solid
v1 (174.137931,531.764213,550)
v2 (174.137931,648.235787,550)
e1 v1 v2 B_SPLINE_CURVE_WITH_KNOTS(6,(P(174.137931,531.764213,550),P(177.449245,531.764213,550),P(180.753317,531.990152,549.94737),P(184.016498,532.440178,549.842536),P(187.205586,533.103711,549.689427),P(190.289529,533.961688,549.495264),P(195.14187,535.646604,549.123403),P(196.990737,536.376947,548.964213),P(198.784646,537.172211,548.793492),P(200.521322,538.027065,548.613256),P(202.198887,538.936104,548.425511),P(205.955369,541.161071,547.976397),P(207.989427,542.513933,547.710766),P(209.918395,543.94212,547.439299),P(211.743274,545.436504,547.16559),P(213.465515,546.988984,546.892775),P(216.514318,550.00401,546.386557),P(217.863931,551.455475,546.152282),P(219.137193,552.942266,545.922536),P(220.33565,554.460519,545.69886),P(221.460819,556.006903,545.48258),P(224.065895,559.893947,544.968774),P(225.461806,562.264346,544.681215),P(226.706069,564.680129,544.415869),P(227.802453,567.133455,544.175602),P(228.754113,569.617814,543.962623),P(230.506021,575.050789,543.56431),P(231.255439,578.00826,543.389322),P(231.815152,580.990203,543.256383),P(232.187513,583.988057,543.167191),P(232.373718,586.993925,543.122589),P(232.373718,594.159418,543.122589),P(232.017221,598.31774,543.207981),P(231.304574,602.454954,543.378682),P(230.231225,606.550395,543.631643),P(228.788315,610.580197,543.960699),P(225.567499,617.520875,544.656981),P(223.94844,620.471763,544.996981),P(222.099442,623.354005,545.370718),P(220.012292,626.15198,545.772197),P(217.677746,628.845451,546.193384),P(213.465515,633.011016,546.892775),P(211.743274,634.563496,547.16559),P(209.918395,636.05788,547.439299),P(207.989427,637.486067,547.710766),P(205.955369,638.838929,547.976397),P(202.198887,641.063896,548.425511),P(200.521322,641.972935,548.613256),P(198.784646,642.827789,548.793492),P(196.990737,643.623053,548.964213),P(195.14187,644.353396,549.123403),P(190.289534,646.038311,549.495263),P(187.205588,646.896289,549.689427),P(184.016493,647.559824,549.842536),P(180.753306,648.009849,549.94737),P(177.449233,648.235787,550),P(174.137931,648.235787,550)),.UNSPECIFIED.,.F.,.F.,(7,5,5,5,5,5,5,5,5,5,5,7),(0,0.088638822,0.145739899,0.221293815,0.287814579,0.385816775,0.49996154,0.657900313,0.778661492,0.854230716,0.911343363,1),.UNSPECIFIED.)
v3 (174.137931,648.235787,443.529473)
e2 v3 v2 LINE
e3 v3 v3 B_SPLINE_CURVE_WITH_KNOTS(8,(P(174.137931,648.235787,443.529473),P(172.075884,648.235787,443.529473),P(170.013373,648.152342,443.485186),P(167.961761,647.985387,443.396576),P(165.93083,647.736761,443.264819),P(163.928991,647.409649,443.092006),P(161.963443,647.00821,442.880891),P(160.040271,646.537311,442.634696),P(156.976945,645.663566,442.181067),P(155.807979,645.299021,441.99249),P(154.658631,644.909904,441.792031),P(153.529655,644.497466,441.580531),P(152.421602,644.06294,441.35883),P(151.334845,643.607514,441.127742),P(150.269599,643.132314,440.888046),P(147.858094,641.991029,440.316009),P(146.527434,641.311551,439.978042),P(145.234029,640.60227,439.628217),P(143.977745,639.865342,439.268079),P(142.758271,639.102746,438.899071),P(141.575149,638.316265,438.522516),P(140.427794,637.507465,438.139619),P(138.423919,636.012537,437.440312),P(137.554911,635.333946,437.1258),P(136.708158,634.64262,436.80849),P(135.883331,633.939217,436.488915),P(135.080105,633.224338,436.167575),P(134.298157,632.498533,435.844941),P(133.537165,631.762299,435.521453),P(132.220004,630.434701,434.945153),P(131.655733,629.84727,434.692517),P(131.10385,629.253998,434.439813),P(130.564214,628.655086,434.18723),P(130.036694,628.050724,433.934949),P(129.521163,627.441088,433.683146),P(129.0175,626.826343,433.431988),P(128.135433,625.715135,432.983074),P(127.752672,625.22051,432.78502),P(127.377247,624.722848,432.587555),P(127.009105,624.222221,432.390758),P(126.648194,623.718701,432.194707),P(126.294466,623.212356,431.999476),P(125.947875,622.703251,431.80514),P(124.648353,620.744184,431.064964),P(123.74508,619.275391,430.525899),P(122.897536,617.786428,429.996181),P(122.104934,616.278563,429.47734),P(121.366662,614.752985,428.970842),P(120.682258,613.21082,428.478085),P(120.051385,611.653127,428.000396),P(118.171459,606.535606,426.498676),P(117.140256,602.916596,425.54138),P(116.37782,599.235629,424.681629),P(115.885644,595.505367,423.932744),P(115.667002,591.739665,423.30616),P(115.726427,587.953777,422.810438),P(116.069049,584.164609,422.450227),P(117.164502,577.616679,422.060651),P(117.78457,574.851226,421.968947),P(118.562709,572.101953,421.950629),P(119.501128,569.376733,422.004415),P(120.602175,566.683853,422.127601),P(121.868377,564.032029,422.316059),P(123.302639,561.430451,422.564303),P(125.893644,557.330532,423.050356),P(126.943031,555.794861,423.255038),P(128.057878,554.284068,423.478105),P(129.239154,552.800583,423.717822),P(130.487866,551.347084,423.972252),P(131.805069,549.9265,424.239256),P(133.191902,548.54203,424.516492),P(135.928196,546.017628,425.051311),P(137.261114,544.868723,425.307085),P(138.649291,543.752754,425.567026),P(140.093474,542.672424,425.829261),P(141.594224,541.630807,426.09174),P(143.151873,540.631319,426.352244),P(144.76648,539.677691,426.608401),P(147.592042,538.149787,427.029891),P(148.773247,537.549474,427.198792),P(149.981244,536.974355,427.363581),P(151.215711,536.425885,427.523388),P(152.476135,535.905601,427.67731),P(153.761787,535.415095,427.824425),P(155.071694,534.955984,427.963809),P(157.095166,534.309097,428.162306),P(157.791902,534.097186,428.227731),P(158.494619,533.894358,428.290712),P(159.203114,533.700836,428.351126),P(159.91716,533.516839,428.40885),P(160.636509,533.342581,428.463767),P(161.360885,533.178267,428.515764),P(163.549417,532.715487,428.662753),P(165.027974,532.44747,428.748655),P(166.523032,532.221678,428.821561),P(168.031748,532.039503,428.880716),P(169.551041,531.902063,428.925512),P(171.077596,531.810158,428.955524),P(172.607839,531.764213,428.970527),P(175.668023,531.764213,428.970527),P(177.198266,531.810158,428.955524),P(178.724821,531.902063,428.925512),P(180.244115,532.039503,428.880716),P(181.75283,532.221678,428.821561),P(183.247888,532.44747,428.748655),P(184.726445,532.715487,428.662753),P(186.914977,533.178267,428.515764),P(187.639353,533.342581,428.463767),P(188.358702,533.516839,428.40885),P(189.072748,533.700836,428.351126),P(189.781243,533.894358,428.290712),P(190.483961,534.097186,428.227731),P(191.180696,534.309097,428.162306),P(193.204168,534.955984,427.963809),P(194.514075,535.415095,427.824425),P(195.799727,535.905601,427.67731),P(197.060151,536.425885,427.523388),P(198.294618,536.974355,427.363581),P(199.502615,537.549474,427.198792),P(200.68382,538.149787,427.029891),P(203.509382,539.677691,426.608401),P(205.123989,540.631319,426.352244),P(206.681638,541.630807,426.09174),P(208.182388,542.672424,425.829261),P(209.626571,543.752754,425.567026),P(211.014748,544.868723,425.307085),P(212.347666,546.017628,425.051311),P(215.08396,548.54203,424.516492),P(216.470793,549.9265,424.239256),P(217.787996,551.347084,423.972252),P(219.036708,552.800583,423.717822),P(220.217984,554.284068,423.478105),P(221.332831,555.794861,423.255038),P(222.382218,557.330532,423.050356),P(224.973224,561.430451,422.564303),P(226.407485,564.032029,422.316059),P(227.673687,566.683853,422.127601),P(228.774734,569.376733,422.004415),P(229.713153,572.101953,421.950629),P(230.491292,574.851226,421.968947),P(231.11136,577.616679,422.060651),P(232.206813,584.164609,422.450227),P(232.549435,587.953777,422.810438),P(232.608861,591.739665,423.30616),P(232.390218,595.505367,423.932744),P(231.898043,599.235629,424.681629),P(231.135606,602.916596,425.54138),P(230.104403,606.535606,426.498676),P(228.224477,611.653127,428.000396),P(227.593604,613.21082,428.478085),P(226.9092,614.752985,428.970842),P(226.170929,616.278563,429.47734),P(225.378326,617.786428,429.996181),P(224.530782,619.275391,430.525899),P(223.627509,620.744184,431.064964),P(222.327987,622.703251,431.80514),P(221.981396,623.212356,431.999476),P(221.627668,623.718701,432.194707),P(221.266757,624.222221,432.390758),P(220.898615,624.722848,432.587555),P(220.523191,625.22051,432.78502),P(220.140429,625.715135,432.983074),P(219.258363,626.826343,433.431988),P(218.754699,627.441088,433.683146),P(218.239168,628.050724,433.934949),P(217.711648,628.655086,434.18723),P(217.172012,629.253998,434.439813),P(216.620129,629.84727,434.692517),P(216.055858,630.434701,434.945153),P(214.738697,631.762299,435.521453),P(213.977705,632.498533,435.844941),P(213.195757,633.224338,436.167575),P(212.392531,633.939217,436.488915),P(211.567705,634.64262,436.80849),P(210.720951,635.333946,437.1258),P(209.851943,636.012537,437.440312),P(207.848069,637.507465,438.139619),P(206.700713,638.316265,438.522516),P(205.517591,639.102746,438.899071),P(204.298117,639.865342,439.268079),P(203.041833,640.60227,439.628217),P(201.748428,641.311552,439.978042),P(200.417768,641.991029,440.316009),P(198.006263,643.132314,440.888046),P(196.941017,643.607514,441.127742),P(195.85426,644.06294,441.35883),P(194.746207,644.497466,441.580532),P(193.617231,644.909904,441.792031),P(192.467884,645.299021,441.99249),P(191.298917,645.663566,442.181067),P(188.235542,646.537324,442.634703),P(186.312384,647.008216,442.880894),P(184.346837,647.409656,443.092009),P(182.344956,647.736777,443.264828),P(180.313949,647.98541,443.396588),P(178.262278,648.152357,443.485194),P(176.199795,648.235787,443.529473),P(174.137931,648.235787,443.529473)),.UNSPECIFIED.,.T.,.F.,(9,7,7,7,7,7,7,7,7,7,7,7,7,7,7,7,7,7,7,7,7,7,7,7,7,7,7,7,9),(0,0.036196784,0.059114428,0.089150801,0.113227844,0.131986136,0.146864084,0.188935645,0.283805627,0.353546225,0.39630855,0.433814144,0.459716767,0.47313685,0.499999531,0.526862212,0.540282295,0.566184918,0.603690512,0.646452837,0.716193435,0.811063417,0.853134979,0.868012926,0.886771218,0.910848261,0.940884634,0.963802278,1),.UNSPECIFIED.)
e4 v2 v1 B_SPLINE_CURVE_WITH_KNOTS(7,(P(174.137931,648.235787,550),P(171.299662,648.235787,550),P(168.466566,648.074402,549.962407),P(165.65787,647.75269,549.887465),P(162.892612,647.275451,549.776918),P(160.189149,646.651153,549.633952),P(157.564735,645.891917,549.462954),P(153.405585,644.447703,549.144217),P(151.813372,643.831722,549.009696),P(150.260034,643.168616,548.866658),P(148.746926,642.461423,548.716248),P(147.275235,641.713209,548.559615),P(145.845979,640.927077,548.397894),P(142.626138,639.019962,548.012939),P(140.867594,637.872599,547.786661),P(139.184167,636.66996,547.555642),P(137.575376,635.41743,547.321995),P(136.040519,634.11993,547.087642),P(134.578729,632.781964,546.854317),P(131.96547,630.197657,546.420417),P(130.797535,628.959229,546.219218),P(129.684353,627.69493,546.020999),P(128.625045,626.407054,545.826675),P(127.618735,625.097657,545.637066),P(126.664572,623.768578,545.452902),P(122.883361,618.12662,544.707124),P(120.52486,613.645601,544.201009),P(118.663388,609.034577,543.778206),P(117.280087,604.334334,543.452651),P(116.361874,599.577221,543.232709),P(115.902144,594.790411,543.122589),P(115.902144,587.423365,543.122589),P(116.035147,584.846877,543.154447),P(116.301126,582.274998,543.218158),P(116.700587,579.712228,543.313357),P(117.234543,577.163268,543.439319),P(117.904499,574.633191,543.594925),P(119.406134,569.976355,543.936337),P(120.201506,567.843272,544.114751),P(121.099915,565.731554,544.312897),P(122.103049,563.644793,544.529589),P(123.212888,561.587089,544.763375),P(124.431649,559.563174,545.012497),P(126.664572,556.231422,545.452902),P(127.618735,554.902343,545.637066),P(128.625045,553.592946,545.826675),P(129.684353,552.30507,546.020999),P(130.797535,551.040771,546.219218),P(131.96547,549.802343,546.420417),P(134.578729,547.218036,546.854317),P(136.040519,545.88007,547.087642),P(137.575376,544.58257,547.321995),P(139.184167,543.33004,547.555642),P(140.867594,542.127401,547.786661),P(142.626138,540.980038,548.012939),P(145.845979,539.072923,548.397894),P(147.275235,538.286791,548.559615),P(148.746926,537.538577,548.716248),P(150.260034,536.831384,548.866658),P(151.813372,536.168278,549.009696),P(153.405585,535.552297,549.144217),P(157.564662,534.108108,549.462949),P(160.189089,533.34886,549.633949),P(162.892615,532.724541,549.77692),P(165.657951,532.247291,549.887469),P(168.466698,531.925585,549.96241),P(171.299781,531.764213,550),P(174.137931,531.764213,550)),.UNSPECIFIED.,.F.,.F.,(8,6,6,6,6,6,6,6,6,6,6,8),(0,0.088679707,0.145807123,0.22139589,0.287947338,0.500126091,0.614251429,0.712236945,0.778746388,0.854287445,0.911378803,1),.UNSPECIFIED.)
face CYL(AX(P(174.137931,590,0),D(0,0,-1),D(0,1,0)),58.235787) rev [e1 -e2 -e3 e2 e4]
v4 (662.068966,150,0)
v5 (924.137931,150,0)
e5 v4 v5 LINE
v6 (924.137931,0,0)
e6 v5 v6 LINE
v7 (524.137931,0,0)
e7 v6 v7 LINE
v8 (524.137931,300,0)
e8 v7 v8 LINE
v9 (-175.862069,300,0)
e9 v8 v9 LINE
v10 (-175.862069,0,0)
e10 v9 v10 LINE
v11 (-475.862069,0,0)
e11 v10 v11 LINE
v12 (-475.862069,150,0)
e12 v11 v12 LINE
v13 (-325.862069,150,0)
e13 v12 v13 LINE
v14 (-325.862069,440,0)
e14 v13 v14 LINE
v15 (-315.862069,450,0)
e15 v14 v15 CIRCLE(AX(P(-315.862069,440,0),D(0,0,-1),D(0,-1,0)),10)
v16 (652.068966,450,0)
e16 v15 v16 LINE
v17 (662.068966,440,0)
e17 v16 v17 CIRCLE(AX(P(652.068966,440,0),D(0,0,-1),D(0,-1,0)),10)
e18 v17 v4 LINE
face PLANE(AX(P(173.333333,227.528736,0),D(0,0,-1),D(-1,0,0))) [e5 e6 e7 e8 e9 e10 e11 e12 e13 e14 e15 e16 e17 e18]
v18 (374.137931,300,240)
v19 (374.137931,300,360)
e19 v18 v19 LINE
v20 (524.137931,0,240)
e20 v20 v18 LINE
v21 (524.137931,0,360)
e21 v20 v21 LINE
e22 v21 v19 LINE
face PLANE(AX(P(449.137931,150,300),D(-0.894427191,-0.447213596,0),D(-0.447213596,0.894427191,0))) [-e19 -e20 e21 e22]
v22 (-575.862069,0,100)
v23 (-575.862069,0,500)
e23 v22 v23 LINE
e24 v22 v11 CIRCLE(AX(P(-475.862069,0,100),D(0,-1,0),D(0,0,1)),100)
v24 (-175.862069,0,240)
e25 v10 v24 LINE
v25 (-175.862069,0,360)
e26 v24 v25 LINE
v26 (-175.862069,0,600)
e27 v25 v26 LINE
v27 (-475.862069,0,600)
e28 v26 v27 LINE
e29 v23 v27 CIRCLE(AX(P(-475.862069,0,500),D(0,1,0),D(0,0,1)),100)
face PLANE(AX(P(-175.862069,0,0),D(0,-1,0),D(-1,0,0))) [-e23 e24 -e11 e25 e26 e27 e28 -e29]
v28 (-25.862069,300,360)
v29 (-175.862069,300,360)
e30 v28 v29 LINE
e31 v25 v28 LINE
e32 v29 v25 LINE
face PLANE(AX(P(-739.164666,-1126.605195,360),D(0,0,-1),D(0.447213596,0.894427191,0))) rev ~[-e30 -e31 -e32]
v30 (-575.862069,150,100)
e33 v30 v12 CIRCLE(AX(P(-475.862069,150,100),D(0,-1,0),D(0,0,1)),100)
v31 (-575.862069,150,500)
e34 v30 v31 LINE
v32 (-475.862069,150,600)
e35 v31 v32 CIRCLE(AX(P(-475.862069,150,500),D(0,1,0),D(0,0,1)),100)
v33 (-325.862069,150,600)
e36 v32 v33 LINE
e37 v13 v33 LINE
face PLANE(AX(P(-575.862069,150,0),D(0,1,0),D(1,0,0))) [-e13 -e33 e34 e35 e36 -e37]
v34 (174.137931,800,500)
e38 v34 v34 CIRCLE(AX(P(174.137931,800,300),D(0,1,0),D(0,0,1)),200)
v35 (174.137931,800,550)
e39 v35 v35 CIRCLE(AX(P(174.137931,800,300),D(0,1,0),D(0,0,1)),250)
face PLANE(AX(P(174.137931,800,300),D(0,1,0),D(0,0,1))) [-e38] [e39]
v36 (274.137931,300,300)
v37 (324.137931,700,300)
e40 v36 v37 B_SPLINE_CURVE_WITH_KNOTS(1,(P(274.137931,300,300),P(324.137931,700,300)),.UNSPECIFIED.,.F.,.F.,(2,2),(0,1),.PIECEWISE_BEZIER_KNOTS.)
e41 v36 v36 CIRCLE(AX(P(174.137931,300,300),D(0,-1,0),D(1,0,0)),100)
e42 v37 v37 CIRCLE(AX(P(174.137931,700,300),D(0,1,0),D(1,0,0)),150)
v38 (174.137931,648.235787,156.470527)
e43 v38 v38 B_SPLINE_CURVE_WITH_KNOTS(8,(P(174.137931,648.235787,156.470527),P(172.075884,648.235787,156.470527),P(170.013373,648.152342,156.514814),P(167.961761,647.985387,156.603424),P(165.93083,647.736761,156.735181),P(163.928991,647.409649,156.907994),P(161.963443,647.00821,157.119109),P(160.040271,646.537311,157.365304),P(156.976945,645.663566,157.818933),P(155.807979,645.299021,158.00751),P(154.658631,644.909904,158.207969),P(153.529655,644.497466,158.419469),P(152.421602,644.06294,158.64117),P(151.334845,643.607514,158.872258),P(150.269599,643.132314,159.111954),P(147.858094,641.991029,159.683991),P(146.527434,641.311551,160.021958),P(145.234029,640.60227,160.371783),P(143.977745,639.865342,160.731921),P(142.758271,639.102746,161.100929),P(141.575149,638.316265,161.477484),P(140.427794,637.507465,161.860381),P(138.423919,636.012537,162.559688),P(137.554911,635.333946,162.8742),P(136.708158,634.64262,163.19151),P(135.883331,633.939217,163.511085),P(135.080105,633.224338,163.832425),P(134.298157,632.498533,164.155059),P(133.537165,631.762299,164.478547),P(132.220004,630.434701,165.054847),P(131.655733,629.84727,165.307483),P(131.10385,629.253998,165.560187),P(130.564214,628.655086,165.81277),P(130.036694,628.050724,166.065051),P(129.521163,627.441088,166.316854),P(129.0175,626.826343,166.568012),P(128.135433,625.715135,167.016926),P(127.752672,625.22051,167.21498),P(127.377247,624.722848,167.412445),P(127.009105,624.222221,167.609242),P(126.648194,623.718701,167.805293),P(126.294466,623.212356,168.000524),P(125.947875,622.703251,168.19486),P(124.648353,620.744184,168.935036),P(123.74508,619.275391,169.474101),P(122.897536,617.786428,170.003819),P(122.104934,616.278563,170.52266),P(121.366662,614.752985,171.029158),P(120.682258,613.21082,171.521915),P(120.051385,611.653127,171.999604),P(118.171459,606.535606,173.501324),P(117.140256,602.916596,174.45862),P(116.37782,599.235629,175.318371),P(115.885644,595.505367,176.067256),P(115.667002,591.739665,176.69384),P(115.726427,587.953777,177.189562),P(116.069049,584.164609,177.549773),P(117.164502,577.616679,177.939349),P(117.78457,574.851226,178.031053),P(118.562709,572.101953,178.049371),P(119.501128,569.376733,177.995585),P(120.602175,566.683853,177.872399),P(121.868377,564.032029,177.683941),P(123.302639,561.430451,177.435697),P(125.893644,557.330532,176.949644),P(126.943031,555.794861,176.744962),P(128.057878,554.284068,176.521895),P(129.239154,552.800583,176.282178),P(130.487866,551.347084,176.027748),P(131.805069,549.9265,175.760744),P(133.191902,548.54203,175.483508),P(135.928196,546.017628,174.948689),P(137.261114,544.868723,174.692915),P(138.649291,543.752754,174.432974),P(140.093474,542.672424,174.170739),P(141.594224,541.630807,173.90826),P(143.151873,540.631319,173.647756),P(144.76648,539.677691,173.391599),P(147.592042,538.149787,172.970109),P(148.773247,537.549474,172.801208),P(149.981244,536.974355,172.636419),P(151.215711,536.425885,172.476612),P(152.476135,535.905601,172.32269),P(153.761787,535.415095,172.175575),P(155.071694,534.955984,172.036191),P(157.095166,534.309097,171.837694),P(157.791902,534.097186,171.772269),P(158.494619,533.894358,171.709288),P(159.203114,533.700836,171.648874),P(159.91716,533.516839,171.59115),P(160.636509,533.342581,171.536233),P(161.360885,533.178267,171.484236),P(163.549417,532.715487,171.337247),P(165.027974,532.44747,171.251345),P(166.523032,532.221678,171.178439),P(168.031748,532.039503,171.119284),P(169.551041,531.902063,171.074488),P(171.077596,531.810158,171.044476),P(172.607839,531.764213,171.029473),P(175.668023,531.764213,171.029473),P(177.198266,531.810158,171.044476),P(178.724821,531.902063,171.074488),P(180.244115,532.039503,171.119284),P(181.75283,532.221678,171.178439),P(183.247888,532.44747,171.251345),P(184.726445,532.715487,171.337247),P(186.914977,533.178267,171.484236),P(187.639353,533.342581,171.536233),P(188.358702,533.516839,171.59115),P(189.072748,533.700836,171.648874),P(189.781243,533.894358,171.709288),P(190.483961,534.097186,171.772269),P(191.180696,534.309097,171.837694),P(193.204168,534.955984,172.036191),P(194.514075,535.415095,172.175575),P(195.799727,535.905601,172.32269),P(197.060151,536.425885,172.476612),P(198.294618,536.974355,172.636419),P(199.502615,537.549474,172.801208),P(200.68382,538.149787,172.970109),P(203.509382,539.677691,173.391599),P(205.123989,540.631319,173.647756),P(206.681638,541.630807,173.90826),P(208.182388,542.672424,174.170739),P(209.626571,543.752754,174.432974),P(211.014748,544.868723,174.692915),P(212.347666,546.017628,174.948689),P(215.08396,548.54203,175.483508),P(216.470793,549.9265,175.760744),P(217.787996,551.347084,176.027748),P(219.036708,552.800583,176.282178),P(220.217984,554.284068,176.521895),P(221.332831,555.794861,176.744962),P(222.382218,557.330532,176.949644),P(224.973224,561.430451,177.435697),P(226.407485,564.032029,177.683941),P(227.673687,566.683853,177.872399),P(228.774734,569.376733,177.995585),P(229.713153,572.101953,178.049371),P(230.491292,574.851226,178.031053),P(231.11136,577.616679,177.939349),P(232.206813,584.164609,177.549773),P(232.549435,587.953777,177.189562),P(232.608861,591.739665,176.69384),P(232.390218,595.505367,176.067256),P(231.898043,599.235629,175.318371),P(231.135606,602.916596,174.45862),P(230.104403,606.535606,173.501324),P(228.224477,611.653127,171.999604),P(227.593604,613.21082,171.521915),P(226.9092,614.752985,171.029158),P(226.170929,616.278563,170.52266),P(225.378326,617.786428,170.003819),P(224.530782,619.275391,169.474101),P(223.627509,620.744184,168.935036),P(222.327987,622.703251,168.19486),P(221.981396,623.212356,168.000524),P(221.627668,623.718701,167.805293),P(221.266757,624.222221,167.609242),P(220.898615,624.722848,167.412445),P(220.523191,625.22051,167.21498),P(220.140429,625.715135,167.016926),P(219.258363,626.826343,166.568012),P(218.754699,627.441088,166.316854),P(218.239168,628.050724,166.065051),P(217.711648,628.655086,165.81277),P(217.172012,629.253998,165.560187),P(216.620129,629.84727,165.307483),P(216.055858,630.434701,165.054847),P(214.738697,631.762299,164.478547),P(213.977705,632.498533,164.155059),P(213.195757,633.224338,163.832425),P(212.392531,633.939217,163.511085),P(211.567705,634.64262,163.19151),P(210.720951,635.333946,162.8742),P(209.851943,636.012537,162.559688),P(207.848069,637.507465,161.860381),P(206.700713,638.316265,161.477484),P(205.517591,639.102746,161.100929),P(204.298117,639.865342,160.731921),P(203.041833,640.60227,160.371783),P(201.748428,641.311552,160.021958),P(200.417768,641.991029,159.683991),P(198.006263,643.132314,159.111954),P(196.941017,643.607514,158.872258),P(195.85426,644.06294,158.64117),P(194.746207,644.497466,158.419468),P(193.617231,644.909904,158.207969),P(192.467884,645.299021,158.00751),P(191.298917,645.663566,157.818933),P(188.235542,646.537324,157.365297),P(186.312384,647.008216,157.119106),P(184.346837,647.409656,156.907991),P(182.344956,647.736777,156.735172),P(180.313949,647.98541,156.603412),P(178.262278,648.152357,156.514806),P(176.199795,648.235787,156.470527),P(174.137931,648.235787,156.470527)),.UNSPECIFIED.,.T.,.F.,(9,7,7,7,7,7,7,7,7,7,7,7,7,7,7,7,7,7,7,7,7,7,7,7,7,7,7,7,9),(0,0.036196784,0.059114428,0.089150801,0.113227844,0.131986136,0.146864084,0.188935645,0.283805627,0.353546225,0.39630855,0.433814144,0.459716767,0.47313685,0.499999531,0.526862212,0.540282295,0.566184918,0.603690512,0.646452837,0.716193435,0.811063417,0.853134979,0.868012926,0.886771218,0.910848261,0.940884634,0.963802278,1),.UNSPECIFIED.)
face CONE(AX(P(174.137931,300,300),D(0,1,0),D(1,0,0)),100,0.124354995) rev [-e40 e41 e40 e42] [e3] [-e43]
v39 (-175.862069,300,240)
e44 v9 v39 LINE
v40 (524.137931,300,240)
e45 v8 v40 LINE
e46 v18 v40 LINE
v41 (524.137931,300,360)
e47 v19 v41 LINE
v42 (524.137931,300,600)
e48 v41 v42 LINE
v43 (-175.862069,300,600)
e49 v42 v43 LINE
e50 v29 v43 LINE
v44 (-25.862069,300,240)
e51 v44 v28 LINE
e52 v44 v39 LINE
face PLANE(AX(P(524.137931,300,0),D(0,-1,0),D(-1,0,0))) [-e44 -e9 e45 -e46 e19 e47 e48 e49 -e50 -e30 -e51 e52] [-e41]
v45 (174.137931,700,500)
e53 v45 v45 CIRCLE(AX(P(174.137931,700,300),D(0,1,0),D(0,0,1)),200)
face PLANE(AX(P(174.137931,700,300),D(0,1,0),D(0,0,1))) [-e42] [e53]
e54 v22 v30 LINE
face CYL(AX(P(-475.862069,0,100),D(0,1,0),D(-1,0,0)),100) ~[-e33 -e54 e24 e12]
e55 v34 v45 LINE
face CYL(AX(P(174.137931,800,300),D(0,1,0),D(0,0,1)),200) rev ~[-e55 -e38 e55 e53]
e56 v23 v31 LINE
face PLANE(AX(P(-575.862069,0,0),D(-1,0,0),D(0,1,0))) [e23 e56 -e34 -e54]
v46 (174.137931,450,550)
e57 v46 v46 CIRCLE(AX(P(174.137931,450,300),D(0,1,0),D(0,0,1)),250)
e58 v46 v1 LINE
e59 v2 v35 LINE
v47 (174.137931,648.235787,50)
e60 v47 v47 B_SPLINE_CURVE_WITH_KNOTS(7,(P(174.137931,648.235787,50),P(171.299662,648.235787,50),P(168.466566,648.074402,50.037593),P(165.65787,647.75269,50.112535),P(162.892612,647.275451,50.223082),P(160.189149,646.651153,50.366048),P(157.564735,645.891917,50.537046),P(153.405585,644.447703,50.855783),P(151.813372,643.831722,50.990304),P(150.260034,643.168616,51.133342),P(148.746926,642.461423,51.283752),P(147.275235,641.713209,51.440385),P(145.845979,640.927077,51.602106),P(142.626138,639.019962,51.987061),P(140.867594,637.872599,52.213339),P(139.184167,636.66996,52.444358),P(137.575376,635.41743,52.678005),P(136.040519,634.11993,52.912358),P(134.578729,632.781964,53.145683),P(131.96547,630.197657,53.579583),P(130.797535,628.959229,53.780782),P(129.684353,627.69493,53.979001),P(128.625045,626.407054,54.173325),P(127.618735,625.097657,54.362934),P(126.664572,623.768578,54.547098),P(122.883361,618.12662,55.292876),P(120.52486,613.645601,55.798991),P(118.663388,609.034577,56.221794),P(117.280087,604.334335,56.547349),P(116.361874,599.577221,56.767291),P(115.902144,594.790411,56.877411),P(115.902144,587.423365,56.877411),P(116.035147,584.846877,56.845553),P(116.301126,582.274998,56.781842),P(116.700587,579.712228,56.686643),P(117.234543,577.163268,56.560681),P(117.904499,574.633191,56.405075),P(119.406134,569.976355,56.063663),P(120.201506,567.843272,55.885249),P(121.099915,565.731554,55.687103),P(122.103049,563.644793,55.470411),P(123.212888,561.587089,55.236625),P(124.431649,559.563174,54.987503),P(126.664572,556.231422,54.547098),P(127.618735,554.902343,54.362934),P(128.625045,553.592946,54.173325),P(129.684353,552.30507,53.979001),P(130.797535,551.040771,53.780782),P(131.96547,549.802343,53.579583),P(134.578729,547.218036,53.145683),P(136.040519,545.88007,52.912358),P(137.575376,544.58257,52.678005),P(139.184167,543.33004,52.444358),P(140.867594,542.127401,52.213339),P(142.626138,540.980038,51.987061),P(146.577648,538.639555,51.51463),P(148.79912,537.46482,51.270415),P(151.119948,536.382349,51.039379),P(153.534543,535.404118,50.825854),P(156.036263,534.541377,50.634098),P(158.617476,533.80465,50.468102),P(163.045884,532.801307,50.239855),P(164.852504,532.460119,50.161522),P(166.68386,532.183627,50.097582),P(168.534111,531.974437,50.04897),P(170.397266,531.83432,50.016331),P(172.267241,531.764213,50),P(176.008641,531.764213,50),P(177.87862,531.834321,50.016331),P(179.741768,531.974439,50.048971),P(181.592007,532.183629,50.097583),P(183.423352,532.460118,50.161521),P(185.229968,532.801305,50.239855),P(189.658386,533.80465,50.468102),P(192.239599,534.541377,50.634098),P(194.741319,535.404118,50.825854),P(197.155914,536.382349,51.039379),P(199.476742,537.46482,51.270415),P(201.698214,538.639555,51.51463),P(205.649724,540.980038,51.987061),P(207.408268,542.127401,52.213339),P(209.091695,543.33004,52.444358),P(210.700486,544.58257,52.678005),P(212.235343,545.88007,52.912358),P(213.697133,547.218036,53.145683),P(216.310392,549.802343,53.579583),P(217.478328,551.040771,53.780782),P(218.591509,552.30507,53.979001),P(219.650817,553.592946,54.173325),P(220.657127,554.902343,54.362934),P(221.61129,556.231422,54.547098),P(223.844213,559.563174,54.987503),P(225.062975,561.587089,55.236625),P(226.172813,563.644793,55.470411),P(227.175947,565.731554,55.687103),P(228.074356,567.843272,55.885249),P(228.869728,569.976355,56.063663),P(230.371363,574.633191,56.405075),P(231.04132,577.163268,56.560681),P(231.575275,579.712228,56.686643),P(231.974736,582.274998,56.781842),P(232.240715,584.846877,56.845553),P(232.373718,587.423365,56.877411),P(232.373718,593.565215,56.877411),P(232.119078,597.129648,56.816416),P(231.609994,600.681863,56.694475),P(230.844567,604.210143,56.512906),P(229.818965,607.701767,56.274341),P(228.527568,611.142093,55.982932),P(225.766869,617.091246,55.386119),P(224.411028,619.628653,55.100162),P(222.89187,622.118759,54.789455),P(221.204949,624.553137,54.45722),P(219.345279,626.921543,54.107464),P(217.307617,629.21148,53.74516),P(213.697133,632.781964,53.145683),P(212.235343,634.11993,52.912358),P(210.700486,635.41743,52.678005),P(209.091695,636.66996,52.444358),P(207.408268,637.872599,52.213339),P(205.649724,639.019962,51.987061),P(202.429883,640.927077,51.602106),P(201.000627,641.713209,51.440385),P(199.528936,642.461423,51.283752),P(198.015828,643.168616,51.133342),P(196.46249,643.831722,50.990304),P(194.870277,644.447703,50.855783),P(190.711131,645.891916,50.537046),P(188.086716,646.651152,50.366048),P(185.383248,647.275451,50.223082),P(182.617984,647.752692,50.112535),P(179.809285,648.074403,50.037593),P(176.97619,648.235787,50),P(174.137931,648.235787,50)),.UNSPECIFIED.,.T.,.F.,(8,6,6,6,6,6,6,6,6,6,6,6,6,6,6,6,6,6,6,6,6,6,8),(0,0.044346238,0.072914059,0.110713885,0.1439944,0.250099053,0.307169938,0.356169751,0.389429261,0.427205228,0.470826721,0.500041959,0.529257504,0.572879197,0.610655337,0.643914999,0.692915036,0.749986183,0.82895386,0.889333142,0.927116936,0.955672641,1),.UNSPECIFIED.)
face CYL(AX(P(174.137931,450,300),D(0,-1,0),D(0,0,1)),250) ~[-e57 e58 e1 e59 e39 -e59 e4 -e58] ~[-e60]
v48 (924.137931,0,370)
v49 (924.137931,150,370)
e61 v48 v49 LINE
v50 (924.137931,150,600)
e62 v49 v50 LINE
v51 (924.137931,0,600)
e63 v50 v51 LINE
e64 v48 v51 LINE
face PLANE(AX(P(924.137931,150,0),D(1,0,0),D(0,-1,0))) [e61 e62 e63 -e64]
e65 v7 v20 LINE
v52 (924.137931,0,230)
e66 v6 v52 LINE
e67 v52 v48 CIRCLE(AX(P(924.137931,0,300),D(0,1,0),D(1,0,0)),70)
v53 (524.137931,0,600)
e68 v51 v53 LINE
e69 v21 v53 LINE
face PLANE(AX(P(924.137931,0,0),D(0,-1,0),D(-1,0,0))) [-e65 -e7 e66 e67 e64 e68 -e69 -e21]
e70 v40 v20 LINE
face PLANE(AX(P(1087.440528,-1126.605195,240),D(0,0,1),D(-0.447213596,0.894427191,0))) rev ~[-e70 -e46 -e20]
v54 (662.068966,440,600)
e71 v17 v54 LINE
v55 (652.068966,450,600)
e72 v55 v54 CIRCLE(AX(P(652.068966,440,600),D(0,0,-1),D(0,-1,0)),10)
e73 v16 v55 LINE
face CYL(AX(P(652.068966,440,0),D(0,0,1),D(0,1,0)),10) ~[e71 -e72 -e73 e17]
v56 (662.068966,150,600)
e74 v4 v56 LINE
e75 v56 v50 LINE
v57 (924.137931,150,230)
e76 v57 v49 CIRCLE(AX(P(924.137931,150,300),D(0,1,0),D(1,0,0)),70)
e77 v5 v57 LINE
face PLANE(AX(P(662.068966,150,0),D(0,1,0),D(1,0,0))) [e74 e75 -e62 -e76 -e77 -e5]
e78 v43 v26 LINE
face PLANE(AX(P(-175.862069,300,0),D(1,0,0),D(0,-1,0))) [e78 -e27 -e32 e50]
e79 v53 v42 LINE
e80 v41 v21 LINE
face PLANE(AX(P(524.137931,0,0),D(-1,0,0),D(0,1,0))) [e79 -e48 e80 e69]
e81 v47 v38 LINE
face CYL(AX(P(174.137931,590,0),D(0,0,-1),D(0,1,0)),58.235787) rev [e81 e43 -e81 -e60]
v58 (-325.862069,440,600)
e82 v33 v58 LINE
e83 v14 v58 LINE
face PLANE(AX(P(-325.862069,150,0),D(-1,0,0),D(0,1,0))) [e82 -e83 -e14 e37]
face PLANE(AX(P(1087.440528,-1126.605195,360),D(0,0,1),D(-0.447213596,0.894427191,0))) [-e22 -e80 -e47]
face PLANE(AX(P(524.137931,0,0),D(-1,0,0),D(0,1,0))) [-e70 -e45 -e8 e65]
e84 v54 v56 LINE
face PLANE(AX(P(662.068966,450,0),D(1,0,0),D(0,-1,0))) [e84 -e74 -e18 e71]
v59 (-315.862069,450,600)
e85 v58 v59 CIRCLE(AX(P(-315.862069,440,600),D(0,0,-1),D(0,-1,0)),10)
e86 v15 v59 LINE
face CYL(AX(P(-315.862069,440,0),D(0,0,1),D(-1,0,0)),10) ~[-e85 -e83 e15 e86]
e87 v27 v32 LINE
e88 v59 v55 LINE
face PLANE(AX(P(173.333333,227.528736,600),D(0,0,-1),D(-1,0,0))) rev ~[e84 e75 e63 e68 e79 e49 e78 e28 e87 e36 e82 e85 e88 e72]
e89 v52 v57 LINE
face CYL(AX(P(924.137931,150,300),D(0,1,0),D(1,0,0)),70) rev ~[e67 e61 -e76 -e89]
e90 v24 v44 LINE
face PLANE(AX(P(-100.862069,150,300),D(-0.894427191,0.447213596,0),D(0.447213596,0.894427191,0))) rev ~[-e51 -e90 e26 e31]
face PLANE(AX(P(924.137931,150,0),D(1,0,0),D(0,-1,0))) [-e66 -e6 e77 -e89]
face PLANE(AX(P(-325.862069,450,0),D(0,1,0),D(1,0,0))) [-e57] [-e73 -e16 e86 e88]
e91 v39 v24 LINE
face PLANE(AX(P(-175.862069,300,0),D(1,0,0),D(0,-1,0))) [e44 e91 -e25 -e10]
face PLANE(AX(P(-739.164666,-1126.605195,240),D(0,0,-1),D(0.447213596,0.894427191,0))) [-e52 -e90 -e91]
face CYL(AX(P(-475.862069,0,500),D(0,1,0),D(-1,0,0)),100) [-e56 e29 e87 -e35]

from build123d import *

# Parameters (mm, degrees)
BOSS_EXTRUDE1_DEPTH     = 600
SKETCH2_R               = 250
BOSS_EXTRUDE3_DEPTH     = 350
SKETCH6_R               = 200
CUT_EXTRUDE1_DEPTH      = 100
SKETCH8_R               = 100
SKETCH7_R               = 150
FILLET2_R               = 100
FILLET3_R               = 10
SKETCH11_R              = 58.235787107
CUT_EXTRUDE5_DEPTH      = 1362.628038628
CUT_EXTRUDE5_DEPTH_BACK = 1362.628038628
CUT_EXTRUDE6_REACH      = 1281.27
SKETCH12_R              = 70
RIB1_REACH              = 1260.583
SKETCH13_WALL_W         = 2854.575996278
SKETCH13_WALL_H         = 120
RIB2_REACH              = 1260.583
SKETCH14_WALL_W         = 2854.575996278
SKETCH14_WALL_H         = 120


with BuildPart() as part:
    # Sketch1 → Boss-Extrude1 (new body)
    with BuildSketch(Plane.XY):
        Polygon((-175.862068966, 0), (-575.862068966, 0), (-575.862068966, 150), (-325.862068966, 150), (-325.862068966, 450), (662.068965517, 450), (662.068965517, 150), (924.137931034, 150), (924.137931034, 0), (524.137931034, 0), (524.137931034, 300), (-175.862068966, 300), align=None)
    extrude(amount=BOSS_EXTRUDE1_DEPTH)

    # Sketch2 → Boss-Extrude3 (add)
    with BuildSketch(Plane(origin=(0, 450, 0), x_dir=(1, 0, 0), z_dir=(0, 1, 0))):
        with Locations(Location((174.137931034, -300, 0), (0, 0, 270))):
            Circle(SKETCH2_R)
    extrude(amount=BOSS_EXTRUDE3_DEPTH)

    # Sketch6 → Cut-Extrude1 (cut)
    with BuildSketch(Plane(origin=(0, 800, 0), x_dir=(1, 0, 0), z_dir=(0, 1, 0))):
        with Locations(Location((174.137931034, -300, 0), (0, 0, 270))):
            Circle(SKETCH6_R)
    extrude(amount=-CUT_EXTRUDE1_DEPTH, mode=Mode.SUBTRACT)

    # Sketch8 → Cut-Loft1 section 0
    with BuildSketch(Plane.XZ.offset(-300)):
        with Locations((174.137931034, 300)):
            Circle(SKETCH8_R)
    # Sketch7 → Cut-Loft1 section 1
    with BuildSketch(Plane(origin=(0, 700, 0), x_dir=(1, 0, 0), z_dir=(0, 1, 0))):
        with Locations((174.137931034, -300)):
            Circle(SKETCH7_R)
    loft(mode=Mode.SUBTRACT)

    # Fillet2
    fillet2_edges = [part.edges().sort_by_distance(p)[0] for p in [
        (-575.862068966, 75, 0),
        (-575.862068966, 75, 600),
    ]]
    fillet(fillet2_edges, radius=FILLET2_R)

    # Fillet3
    fillet3_edges = [part.edges().sort_by_distance(p)[0] for p in [
        (-325.862068966, 450, 300),
        (662.068965517, 450, 300),
    ]]
    fillet(fillet3_edges, radius=FILLET3_R)

    # Sketch11 → Cut-Extrude5 (cut, two sides)
    with BuildSketch(Plane.XY) as cut_extrude5_sk:
        with Locations(Location((174.137931034, 590, 0), (0, 0, 90.000000003))):
            Circle(SKETCH11_R)
    extrude(amount=CUT_EXTRUDE5_DEPTH, mode=Mode.SUBTRACT)
    extrude(cut_extrude5_sk.sketch, amount=-CUT_EXTRUDE5_DEPTH_BACK, mode=Mode.SUBTRACT)

    # Sketch12 → Cut-Extrude6 (cut, up to next)
    with BuildSketch(Plane(origin=(0, 150, 0), x_dir=(1, 0, 0), z_dir=(0, 1, 0)), mode=Mode.PRIVATE) as cut_extrude6_sk1:
        with Locations((924.137931034, -300)):
            Circle(SKETCH12_R)
    cut_extrude6_tool1 = extrude(cut_extrude6_sk1.sketch, amount=-CUT_EXTRUDE6_REACH, mode=Mode.PRIVATE) & part.part
    add(cut_extrude6_tool1.solids().sort_by_distance((924.137931, 150, 300))[0], mode=Mode.SUBTRACT)

    # Sketch13 wall → Rib1 (add, up to next)
    with BuildSketch(Plane(origin=(-100.862068966, 150, 300), x_dir=(0.4472135955, 0.894427191, 0), z_dir=(-0.894427191, 0.4472135955, 0)), mode=Mode.PRIVATE) as rib1_sk1:
        Rectangle(SKETCH13_WALL_W, SKETCH13_WALL_H)
    rib1_tool1 = extrude(rib1_sk1.sketch, amount=RIB1_REACH, mode=Mode.PRIVATE) - part.part
    add(rib1_tool1.solids().sort_by_distance((-100.862068966, 150, 300))[0])

    # Sketch14 wall → Rib2 (add, up to next)
    with BuildSketch(Plane(origin=(449.137931034, 150, 300), x_dir=(-0.4472135955, 0.894427191, 0), z_dir=(-0.894427191, -0.4472135955, 0)), mode=Mode.PRIVATE) as rib2_sk1:
        Rectangle(SKETCH14_WALL_W, SKETCH14_WALL_H)
    rib2_tool1 = extrude(rib2_sk1.sketch, amount=-RIB2_REACH, mode=Mode.PRIVATE) - part.part
    add(rib2_tool1.solids().sort_by_distance((449.137931034, 150, 300))[0])


solid = part.part
